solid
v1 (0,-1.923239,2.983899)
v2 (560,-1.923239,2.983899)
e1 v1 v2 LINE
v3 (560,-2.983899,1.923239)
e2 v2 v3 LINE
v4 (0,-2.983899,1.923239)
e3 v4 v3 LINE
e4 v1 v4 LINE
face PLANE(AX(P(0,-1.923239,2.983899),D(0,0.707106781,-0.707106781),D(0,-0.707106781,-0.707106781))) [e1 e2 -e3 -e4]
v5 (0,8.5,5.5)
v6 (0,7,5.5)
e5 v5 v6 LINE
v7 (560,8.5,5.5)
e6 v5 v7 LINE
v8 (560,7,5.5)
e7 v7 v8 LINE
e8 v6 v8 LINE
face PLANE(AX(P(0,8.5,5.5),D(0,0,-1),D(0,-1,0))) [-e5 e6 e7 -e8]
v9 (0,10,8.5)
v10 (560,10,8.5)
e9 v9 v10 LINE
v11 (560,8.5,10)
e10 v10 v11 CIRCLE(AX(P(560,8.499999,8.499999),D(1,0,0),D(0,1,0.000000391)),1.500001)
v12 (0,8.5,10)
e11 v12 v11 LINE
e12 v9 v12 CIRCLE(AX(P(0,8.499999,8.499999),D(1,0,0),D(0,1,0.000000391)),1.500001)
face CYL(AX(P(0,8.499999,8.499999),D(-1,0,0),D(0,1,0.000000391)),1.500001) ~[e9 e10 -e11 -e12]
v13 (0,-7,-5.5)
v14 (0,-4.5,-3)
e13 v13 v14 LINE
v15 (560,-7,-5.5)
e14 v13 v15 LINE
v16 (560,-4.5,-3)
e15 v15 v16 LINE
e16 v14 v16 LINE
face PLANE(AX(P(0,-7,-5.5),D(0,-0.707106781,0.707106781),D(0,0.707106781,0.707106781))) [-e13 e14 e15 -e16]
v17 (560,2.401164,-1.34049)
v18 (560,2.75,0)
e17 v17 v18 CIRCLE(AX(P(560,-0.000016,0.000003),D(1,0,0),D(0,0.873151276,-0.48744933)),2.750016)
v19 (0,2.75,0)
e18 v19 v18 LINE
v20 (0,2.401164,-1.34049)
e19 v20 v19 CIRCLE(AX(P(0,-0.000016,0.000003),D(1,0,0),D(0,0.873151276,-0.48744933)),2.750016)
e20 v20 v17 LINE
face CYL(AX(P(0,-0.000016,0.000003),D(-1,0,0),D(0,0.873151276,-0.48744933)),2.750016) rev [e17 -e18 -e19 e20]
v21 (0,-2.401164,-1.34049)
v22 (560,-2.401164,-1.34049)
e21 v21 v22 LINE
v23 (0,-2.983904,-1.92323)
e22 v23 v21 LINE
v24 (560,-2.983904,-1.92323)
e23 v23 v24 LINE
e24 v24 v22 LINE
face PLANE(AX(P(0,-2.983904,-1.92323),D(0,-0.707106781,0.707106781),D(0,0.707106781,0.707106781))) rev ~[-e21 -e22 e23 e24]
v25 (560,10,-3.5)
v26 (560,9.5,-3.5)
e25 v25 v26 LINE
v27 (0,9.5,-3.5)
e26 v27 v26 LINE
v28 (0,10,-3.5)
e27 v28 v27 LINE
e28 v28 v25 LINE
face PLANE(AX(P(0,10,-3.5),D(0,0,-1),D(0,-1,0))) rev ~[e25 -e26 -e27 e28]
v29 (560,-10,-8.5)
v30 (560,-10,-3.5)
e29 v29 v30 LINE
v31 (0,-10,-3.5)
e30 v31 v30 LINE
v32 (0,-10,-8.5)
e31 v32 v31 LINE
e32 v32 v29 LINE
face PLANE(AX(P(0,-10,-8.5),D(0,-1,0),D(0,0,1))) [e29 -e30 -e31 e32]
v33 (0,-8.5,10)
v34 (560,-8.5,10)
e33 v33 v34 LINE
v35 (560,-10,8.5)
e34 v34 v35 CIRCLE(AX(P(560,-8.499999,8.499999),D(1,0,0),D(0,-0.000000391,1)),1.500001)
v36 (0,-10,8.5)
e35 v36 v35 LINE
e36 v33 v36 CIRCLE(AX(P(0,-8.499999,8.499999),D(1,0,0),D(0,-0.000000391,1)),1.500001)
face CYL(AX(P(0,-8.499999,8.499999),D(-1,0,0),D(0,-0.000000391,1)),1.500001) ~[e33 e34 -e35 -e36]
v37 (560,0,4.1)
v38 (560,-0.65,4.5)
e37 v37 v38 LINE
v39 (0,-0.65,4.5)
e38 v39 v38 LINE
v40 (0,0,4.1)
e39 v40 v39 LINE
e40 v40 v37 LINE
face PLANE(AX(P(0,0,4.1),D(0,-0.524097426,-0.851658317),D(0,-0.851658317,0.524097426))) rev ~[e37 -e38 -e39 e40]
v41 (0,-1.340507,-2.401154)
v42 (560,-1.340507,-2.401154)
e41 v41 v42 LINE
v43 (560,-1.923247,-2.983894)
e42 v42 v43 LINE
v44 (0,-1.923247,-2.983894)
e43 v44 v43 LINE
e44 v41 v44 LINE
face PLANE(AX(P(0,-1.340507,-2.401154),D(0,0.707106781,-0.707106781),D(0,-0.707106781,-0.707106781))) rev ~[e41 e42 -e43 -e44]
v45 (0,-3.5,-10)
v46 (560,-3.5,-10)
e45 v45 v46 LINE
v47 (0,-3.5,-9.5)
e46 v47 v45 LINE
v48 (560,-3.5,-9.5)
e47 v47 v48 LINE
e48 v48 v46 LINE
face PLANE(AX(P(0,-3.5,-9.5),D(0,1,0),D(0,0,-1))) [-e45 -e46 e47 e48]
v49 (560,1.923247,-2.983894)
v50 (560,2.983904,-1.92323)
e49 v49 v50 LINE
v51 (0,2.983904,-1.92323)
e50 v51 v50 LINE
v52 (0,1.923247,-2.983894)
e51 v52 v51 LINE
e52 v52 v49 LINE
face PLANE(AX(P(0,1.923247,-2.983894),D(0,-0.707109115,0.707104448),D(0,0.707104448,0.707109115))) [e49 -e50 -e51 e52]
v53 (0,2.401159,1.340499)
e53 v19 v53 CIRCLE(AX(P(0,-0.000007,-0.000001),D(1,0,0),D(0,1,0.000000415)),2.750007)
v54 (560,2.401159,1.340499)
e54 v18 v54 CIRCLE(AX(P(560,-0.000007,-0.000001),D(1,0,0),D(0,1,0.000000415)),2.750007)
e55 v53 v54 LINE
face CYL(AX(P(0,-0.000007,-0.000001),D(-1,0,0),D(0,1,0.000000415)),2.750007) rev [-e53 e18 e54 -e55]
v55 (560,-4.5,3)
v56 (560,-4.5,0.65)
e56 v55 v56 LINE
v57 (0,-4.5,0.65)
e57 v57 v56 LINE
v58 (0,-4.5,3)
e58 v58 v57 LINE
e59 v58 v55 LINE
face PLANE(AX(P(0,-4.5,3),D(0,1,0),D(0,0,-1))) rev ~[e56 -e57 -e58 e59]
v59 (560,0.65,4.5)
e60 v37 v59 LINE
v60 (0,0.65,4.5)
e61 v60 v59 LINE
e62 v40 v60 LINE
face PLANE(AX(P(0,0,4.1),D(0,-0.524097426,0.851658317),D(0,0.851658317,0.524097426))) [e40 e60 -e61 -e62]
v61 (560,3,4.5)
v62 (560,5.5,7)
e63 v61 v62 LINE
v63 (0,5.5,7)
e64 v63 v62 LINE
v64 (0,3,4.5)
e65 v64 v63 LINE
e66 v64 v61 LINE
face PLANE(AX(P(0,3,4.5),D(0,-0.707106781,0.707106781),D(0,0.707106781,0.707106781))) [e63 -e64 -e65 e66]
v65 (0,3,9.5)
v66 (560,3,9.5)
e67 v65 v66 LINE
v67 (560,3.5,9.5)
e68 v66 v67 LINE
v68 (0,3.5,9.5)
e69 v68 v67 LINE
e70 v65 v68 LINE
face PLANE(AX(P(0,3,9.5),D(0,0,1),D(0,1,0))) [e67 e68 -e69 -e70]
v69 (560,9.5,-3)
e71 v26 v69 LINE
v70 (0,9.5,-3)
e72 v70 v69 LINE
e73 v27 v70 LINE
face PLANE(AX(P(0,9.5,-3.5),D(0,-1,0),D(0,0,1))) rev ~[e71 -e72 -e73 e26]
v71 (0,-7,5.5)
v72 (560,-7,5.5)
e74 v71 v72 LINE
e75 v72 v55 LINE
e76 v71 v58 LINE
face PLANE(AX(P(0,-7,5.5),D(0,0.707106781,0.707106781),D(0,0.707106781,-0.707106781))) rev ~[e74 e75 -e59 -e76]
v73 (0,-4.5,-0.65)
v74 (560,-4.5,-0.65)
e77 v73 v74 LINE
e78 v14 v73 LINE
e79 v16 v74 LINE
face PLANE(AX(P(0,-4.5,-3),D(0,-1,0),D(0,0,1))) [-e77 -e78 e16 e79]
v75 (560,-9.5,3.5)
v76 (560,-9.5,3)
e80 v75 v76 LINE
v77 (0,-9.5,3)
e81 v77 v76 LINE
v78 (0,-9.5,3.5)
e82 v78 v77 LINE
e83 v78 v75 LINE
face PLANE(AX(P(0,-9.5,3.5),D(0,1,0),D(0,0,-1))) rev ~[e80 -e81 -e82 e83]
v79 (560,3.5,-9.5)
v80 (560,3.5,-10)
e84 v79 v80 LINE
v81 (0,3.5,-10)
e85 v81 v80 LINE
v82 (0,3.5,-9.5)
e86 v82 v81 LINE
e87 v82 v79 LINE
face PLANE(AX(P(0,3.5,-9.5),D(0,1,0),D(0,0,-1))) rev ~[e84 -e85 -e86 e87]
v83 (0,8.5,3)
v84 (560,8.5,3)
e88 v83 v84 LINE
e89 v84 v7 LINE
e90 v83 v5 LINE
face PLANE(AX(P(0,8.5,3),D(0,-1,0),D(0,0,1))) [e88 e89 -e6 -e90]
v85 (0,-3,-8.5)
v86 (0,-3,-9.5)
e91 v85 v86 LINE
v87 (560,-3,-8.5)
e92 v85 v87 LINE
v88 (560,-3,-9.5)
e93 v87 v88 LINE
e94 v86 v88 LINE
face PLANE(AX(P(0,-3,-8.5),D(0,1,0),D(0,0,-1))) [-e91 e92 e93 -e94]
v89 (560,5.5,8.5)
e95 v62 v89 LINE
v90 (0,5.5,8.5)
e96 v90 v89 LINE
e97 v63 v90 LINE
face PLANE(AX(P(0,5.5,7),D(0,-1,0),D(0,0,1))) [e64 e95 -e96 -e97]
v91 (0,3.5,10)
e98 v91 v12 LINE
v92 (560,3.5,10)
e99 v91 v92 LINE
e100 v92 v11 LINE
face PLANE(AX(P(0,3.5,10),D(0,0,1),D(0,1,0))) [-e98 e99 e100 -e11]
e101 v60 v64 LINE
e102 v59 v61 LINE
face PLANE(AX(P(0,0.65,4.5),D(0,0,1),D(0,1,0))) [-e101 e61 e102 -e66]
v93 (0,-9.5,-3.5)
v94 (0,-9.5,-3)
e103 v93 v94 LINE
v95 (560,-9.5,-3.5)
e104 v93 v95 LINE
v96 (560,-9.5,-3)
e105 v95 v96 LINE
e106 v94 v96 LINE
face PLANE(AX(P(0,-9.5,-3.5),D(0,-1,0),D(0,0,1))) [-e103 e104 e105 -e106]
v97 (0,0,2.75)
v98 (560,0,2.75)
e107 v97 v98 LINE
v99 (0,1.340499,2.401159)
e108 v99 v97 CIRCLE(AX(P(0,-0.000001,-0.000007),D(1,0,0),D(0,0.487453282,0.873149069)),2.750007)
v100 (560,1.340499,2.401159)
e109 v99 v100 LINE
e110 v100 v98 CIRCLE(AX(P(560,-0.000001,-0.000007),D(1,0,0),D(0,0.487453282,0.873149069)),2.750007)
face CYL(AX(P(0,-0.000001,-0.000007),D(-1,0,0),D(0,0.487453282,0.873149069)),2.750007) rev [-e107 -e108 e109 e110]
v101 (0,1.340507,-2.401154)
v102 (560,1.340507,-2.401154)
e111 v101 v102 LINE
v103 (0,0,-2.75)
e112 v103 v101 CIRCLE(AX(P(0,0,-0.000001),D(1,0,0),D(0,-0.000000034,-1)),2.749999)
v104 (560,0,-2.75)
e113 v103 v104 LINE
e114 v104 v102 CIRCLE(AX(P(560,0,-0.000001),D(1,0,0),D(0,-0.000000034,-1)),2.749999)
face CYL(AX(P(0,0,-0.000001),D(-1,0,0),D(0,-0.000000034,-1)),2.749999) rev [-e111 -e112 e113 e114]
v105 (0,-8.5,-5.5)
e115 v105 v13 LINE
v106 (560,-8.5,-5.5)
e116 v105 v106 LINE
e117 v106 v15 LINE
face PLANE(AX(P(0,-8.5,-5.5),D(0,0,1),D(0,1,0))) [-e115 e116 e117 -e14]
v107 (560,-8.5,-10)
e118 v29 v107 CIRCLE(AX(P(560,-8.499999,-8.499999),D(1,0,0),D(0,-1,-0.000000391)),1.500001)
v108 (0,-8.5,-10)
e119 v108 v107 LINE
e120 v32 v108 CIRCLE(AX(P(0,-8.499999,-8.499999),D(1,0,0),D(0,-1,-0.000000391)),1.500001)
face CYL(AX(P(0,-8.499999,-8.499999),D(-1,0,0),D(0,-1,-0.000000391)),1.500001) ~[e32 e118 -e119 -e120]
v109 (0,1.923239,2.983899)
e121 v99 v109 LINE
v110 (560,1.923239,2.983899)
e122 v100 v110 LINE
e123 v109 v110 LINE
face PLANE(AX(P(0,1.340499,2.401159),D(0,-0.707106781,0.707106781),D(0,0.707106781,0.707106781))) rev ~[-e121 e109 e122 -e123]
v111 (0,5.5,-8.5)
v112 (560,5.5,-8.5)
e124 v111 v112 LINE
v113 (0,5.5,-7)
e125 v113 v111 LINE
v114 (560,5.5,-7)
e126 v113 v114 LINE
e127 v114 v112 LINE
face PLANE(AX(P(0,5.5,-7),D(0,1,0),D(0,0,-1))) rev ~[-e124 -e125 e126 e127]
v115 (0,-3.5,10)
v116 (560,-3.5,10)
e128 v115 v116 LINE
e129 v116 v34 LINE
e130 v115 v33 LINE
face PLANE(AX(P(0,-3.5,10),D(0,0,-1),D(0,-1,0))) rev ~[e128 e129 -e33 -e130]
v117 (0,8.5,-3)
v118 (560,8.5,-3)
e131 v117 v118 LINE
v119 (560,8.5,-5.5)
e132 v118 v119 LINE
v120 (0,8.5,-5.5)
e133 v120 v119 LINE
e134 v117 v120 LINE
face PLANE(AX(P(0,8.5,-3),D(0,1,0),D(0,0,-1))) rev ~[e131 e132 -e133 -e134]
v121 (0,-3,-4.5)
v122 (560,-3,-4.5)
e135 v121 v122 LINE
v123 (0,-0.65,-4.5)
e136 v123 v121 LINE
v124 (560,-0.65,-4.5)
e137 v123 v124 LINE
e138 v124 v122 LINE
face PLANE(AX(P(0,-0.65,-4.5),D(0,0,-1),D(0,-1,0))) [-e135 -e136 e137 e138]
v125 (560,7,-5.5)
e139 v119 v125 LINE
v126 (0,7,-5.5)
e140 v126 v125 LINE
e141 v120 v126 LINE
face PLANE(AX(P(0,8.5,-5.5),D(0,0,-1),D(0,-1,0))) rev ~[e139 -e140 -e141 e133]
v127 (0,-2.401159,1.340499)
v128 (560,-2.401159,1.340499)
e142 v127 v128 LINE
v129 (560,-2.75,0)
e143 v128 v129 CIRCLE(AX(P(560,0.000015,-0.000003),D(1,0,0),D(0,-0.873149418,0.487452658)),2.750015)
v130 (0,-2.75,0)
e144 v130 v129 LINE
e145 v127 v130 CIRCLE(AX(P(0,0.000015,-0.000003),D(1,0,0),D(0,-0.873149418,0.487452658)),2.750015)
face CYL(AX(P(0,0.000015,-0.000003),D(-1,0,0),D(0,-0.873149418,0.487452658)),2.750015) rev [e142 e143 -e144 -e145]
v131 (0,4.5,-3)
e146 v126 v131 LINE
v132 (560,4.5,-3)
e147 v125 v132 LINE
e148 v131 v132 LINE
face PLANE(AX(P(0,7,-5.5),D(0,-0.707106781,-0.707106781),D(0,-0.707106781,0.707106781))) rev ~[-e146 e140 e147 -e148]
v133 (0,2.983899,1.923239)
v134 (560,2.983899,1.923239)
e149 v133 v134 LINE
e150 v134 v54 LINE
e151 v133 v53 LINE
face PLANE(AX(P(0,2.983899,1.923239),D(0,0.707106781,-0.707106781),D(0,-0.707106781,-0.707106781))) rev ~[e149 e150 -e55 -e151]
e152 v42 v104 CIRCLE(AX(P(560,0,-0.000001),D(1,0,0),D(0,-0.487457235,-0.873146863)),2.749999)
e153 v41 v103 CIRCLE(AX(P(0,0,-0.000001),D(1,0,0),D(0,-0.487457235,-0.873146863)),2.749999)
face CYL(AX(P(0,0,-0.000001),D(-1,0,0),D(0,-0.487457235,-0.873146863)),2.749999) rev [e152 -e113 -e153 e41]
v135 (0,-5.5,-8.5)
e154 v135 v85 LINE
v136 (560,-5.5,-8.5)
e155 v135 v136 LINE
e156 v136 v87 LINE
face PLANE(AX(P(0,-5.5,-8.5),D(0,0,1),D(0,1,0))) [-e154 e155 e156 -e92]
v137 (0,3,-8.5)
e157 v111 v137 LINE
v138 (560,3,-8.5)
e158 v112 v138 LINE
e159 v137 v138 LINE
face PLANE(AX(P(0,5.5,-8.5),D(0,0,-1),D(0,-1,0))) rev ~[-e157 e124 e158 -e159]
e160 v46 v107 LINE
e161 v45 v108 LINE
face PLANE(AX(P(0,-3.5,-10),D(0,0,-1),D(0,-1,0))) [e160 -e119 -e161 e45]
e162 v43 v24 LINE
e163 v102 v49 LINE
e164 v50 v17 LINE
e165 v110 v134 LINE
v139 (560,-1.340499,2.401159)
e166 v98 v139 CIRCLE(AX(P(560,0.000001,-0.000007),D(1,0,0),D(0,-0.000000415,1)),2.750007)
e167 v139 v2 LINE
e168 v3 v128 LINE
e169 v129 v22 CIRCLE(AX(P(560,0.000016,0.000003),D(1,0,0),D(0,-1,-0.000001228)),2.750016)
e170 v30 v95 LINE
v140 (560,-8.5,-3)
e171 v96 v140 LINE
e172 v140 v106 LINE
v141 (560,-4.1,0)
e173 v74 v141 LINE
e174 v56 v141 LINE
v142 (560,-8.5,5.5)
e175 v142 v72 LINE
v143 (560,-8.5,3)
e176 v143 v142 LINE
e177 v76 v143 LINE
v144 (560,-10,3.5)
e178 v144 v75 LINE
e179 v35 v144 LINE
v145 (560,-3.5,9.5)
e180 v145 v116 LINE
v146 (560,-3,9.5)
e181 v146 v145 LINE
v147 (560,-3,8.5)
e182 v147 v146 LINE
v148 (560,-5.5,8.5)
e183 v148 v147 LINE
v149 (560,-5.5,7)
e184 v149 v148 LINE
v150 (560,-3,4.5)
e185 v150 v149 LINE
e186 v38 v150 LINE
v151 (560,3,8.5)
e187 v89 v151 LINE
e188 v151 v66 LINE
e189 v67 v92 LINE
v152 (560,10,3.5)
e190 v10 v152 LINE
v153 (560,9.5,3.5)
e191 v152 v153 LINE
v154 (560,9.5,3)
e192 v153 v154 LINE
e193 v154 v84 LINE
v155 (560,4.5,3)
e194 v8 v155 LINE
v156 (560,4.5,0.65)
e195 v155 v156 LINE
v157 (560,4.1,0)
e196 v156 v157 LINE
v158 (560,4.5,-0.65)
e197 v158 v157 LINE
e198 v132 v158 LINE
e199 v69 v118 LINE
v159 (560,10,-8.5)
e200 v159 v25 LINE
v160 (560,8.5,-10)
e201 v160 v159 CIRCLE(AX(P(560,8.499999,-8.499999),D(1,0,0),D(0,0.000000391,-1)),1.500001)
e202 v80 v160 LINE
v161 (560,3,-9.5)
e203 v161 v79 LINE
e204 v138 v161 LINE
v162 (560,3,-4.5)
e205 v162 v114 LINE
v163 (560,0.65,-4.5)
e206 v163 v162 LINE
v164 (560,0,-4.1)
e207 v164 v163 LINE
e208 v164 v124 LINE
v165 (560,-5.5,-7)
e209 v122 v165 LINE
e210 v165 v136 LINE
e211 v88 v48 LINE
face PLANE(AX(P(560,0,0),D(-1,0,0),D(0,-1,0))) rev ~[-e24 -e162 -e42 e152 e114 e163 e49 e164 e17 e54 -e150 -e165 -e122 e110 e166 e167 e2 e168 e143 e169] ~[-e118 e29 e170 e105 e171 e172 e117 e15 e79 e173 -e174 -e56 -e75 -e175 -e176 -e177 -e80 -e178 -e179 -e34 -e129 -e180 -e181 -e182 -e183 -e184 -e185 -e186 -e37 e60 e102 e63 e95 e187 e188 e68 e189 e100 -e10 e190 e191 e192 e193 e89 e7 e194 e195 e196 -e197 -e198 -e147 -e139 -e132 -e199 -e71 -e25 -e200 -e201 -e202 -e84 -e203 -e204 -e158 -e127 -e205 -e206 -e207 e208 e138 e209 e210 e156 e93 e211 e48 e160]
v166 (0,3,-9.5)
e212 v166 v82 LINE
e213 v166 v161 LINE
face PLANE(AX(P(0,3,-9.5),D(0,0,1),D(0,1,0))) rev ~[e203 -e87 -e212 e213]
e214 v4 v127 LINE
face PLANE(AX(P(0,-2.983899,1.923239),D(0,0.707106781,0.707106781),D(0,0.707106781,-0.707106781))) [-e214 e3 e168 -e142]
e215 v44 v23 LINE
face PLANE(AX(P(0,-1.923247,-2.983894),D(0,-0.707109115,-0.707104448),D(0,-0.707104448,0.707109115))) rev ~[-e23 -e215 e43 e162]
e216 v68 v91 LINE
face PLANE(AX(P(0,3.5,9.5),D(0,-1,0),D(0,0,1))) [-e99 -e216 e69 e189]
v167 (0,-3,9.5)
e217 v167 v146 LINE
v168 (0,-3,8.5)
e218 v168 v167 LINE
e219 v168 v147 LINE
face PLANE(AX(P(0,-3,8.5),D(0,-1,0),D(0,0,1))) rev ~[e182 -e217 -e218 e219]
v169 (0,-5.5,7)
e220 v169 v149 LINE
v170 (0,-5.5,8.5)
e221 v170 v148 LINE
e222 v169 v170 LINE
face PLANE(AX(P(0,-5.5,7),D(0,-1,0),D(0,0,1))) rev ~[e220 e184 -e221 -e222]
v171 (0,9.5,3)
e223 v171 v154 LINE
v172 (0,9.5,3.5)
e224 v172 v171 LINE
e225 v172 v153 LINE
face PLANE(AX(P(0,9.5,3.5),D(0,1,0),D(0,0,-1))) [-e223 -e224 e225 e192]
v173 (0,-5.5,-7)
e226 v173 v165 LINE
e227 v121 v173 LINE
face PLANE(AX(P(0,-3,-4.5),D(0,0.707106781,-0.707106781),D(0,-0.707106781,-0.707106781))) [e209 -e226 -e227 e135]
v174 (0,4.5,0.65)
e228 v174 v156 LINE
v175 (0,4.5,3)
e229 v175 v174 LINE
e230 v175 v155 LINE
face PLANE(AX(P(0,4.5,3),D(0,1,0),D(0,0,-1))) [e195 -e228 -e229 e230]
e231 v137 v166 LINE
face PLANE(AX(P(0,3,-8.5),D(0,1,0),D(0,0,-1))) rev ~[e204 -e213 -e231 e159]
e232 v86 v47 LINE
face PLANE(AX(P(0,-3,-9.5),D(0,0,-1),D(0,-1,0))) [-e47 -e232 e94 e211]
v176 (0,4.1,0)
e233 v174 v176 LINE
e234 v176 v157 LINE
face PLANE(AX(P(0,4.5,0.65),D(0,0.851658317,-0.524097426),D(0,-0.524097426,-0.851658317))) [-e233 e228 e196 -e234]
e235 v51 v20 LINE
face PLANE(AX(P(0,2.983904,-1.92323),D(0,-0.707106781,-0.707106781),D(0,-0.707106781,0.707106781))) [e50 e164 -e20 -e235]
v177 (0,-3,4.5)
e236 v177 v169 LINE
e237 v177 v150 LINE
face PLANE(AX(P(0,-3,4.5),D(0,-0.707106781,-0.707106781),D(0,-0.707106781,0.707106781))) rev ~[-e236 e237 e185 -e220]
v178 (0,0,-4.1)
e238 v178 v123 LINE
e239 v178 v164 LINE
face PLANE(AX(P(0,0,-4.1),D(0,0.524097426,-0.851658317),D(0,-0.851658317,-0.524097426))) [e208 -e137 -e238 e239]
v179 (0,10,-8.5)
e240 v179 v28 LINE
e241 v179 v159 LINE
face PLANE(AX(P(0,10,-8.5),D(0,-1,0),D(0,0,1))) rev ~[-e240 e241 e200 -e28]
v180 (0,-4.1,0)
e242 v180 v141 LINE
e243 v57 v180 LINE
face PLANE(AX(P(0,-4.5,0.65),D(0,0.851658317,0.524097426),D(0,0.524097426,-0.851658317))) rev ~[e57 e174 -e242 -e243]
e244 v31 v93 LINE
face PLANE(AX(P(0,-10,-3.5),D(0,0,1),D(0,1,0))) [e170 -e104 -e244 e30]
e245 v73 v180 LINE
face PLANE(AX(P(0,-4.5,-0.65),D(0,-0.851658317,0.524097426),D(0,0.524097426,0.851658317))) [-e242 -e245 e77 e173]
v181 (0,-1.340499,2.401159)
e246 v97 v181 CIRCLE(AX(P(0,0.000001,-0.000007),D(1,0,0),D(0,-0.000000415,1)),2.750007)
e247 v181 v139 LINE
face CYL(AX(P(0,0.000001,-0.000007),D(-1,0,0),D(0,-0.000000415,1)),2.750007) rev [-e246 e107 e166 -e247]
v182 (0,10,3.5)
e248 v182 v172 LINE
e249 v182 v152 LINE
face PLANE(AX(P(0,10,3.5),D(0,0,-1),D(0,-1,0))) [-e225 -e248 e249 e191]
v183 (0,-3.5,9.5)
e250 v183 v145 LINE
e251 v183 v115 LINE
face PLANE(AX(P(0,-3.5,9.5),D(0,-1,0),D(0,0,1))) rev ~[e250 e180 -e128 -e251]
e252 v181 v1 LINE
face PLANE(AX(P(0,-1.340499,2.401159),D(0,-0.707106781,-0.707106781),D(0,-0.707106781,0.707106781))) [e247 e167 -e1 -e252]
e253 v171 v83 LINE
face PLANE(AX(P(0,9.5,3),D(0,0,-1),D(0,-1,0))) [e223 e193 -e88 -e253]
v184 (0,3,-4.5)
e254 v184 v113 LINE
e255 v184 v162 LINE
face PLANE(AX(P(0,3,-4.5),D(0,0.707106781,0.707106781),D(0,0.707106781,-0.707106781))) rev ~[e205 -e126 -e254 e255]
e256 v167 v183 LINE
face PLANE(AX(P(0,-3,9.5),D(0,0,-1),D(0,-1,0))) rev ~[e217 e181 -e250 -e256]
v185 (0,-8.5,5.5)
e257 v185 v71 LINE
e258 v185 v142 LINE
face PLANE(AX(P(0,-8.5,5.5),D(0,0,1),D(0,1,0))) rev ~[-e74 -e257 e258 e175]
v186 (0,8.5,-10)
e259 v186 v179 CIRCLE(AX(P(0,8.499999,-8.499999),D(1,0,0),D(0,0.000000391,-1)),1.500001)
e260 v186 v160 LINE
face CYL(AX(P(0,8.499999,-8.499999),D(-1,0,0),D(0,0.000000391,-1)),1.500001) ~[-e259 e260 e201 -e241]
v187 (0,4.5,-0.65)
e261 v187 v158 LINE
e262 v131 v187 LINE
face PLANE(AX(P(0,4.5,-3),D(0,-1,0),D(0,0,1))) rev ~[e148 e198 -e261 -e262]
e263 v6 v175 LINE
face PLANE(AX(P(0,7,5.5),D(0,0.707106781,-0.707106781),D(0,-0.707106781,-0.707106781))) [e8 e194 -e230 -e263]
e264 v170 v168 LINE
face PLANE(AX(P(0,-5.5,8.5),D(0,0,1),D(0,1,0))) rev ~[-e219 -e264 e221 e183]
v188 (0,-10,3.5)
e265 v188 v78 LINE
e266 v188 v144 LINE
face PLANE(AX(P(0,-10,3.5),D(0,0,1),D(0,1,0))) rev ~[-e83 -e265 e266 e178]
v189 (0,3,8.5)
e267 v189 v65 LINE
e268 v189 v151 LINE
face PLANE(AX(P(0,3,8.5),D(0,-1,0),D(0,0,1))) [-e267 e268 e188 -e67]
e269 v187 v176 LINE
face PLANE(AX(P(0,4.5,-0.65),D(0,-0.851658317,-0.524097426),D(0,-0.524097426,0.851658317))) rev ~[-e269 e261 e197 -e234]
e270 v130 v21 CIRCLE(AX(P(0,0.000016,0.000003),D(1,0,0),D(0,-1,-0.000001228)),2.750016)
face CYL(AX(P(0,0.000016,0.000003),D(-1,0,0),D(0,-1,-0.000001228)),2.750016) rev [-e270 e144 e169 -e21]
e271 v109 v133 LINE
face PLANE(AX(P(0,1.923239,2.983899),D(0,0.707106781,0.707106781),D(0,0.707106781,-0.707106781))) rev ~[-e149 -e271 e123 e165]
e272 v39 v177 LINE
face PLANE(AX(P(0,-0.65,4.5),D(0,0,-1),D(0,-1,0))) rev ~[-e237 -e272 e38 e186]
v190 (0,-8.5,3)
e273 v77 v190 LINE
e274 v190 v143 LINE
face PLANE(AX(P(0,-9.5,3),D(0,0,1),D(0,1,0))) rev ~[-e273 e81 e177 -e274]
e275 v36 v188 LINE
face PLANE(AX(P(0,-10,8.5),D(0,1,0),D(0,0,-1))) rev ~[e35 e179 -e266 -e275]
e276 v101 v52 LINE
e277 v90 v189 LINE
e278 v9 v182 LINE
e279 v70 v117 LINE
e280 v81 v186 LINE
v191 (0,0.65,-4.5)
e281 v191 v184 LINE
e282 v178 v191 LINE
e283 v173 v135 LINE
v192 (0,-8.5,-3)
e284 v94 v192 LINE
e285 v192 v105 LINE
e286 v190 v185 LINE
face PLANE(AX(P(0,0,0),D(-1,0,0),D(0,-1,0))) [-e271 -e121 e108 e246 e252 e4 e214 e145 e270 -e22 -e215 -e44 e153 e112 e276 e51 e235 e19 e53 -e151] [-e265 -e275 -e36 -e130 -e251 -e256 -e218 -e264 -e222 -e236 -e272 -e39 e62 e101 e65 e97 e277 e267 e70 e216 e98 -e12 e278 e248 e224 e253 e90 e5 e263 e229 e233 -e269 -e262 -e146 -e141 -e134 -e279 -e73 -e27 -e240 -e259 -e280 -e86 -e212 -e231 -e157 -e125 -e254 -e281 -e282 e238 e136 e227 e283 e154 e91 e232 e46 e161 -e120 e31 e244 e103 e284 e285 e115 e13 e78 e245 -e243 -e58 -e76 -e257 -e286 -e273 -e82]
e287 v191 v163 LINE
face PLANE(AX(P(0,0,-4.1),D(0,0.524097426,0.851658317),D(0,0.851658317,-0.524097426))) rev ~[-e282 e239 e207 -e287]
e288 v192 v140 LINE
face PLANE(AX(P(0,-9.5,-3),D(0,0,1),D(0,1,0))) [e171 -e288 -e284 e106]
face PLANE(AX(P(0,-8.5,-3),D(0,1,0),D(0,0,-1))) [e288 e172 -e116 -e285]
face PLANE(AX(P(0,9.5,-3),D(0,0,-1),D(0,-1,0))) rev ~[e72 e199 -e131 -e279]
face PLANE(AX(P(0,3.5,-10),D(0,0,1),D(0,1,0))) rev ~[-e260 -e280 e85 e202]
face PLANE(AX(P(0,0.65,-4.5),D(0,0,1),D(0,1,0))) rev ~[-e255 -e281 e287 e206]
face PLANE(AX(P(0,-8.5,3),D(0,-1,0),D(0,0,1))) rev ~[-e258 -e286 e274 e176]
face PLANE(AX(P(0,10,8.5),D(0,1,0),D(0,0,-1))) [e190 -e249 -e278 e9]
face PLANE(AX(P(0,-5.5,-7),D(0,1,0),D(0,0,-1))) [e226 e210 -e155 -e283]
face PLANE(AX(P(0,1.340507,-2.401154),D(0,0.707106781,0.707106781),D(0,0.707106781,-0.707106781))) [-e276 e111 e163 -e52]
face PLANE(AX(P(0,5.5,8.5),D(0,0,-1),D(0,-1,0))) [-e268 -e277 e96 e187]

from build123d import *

# Parameters (mm, degrees)
PAD_DEPTH = 560


with BuildPart() as part:
    # Sketch → Pad (new body)
    with BuildSketch(Plane.YZ):
        with BuildLine():
            Line((0, 4.1), (0.65, 4.5))
            Line((0.65, 4.5), (3, 4.5))
            Line((3, 4.5), (5.5, 7))
            Line((5.5, 7), (5.5, 8.5))
            Line((5.5, 8.5), (3, 8.5))
            Line((3, 8.5), (3, 9.5))
            Line((3, 9.5), (3.5, 9.5))
            Line((3.5, 9.5), (3.5, 10))
            Line((3.5, 10), (8.5, 10))
            ThreePointArc((10, 8.5), (9.56066, 9.56066), (8.5, 10))
            Line((10, 8.5), (10, 3.5))
            Line((10, 3.5), (9.5, 3.5))
            Line((9.5, 3.5), (9.5, 3))
            Line((9.5, 3), (8.5, 3))
            Line((8.5, 3), (8.5, 5.5))
            Line((8.5, 5.5), (7, 5.5))
            Line((7, 5.5), (4.5, 3))
            Line((4.5, 3), (4.5, 0.65))
            Line((4.5, 0.65), (4.1, 0))
            Line((4.5, -0.65), (4.1, 0))
            Line((4.5, -3), (4.5, -0.65))
            Line((7, -5.5), (4.5, -3))
            Line((8.5, -5.5), (7, -5.5))
            Line((8.5, -3), (8.5, -5.5))
            Line((9.5, -3), (8.5, -3))
            Line((9.5, -3.5), (9.5, -3))
            Line((10, -3.5), (9.5, -3.5))
            Line((10, -8.5), (10, -3.5))
            ThreePointArc((8.5, -10), (9.56066, -9.56066), (10, -8.5))
            Line((3.5, -10), (8.5, -10))
            Line((3.5, -9.5), (3.5, -10))
            Line((3, -9.5), (3.5, -9.5))
            Line((3, -8.5), (3, -9.5))
            Line((5.5, -8.5), (3, -8.5))
            Line((5.5, -7), (5.5, -8.5))
            Line((3, -4.5), (5.5, -7))
            Line((0.65, -4.5), (3, -4.5))
            Line((0, -4.1), (0.65, -4.5))
            Line((0, -4.1), (-0.65, -4.5))
            Line((-0.65, -4.5), (-3, -4.5))
            Line((-3, -4.5), (-5.5, -7))
            Line((-5.5, -7), (-5.5, -8.5))
            Line((-5.5, -8.5), (-3, -8.5))
            Line((-3, -8.5), (-3, -9.5))
            Line((-3, -9.5), (-3.5, -9.5))
            Line((-3.5, -9.5), (-3.5, -10))
            Line((-3.5, -10), (-8.5, -10))
            ThreePointArc((-10, -8.5), (-9.56066, -9.56066), (-8.5, -10))
            Line((-10, -8.5), (-10, -3.5))
            Line((-10, -3.5), (-9.5, -3.5))
            Line((-9.5, -3.5), (-9.5, -3))
            Line((-9.5, -3), (-8.5, -3))
            Line((-8.5, -3), (-8.5, -5.5))
            Line((-8.5, -5.5), (-7, -5.5))
            Line((-7, -5.5), (-4.5, -3))
            Line((-4.5, -3), (-4.5, -0.65))
            Line((-4.5, -0.65), (-4.1, 0))
            Line((-4.5, 0.65), (-4.1, 0))
            Line((-4.5, 3), (-4.5, 0.65))
            Line((-7, 5.5), (-4.5, 3))
            Line((-8.5, 5.5), (-7, 5.5))
            Line((-8.5, 3), (-8.5, 5.5))
            Line((-9.5, 3), (-8.5, 3))
            Line((-9.5, 3.5), (-9.5, 3))
            Line((-10, 3.5), (-9.5, 3.5))
            Line((-10, 8.5), (-10, 3.5))
            ThreePointArc((-8.5, 10), (-9.56066, 9.56066), (-10, 8.5))
            Line((-3.5, 10), (-8.5, 10))
            Line((-3.5, 9.5), (-3.5, 10))
            Line((-3, 9.5), (-3.5, 9.5))
            Line((-3, 8.5), (-3, 9.5))
            Line((-5.5, 8.5), (-3, 8.5))
            Line((-5.5, 7), (-5.5, 8.5))
            Line((-3, 4.5), (-5.5, 7))
            Line((-0.65, 4.5), (-3, 4.5))
            Line((0, 4.1), (-0.65, 4.5))
        make_face()
        with BuildLine():
            Line((1.340499, 2.401159), (1.923239, 2.983899))
            Line((1.923239, 2.983899), (2.983899, 1.923239))
            Line((2.983899, 1.923239), (2.401159, 1.340499))
            ThreePointArc((2.75, 0), (2.661361, 0.692573), (2.401159, 1.340499))
            ThreePointArc((2.401164, -1.34049), (2.661362, -0.692568), (2.75, 0))
            Line((2.983904, -1.92323), (2.401164, -1.34049))
            Line((1.923247, -2.983894), (2.983904, -1.92323))
            Line((1.340507, -2.401154), (1.923247, -2.983894))
            ThreePointArc((0, -2.75), (0.692577, -2.66136), (1.340507, -2.401154))
            ThreePointArc((-1.340507, -2.401154), (-0.692577, -2.66136), (0, -2.75))
            Line((-1.340507, -2.401154), (-1.923247, -2.983894))
            Line((-1.923247, -2.983894), (-2.983904, -1.92323))
            Line((-2.983904, -1.92323), (-2.401164, -1.34049))
            ThreePointArc((-2.75, 0), (-2.661362, -0.692568), (-2.401164, -1.34049))
            ThreePointArc((-2.401159, 1.340499), (-2.661361, 0.692572), (-2.75, 0))
            Line((-2.983899, 1.923239), (-2.401159, 1.340499))
            Line((-1.923239, 2.983899), (-2.983899, 1.923239))
            Line((-1.340499, 2.401159), (-1.923239, 2.983899))
            ThreePointArc((0, 2.75), (-0.692573, 2.661361), (-1.340499, 2.401159))
            ThreePointArc((1.340499, 2.401159), (0.692573, 2.661361), (0, 2.75))
        make_face(mode=Mode.SUBTRACT)
    extrude(amount=PAD_DEPTH)


solid = part.part
